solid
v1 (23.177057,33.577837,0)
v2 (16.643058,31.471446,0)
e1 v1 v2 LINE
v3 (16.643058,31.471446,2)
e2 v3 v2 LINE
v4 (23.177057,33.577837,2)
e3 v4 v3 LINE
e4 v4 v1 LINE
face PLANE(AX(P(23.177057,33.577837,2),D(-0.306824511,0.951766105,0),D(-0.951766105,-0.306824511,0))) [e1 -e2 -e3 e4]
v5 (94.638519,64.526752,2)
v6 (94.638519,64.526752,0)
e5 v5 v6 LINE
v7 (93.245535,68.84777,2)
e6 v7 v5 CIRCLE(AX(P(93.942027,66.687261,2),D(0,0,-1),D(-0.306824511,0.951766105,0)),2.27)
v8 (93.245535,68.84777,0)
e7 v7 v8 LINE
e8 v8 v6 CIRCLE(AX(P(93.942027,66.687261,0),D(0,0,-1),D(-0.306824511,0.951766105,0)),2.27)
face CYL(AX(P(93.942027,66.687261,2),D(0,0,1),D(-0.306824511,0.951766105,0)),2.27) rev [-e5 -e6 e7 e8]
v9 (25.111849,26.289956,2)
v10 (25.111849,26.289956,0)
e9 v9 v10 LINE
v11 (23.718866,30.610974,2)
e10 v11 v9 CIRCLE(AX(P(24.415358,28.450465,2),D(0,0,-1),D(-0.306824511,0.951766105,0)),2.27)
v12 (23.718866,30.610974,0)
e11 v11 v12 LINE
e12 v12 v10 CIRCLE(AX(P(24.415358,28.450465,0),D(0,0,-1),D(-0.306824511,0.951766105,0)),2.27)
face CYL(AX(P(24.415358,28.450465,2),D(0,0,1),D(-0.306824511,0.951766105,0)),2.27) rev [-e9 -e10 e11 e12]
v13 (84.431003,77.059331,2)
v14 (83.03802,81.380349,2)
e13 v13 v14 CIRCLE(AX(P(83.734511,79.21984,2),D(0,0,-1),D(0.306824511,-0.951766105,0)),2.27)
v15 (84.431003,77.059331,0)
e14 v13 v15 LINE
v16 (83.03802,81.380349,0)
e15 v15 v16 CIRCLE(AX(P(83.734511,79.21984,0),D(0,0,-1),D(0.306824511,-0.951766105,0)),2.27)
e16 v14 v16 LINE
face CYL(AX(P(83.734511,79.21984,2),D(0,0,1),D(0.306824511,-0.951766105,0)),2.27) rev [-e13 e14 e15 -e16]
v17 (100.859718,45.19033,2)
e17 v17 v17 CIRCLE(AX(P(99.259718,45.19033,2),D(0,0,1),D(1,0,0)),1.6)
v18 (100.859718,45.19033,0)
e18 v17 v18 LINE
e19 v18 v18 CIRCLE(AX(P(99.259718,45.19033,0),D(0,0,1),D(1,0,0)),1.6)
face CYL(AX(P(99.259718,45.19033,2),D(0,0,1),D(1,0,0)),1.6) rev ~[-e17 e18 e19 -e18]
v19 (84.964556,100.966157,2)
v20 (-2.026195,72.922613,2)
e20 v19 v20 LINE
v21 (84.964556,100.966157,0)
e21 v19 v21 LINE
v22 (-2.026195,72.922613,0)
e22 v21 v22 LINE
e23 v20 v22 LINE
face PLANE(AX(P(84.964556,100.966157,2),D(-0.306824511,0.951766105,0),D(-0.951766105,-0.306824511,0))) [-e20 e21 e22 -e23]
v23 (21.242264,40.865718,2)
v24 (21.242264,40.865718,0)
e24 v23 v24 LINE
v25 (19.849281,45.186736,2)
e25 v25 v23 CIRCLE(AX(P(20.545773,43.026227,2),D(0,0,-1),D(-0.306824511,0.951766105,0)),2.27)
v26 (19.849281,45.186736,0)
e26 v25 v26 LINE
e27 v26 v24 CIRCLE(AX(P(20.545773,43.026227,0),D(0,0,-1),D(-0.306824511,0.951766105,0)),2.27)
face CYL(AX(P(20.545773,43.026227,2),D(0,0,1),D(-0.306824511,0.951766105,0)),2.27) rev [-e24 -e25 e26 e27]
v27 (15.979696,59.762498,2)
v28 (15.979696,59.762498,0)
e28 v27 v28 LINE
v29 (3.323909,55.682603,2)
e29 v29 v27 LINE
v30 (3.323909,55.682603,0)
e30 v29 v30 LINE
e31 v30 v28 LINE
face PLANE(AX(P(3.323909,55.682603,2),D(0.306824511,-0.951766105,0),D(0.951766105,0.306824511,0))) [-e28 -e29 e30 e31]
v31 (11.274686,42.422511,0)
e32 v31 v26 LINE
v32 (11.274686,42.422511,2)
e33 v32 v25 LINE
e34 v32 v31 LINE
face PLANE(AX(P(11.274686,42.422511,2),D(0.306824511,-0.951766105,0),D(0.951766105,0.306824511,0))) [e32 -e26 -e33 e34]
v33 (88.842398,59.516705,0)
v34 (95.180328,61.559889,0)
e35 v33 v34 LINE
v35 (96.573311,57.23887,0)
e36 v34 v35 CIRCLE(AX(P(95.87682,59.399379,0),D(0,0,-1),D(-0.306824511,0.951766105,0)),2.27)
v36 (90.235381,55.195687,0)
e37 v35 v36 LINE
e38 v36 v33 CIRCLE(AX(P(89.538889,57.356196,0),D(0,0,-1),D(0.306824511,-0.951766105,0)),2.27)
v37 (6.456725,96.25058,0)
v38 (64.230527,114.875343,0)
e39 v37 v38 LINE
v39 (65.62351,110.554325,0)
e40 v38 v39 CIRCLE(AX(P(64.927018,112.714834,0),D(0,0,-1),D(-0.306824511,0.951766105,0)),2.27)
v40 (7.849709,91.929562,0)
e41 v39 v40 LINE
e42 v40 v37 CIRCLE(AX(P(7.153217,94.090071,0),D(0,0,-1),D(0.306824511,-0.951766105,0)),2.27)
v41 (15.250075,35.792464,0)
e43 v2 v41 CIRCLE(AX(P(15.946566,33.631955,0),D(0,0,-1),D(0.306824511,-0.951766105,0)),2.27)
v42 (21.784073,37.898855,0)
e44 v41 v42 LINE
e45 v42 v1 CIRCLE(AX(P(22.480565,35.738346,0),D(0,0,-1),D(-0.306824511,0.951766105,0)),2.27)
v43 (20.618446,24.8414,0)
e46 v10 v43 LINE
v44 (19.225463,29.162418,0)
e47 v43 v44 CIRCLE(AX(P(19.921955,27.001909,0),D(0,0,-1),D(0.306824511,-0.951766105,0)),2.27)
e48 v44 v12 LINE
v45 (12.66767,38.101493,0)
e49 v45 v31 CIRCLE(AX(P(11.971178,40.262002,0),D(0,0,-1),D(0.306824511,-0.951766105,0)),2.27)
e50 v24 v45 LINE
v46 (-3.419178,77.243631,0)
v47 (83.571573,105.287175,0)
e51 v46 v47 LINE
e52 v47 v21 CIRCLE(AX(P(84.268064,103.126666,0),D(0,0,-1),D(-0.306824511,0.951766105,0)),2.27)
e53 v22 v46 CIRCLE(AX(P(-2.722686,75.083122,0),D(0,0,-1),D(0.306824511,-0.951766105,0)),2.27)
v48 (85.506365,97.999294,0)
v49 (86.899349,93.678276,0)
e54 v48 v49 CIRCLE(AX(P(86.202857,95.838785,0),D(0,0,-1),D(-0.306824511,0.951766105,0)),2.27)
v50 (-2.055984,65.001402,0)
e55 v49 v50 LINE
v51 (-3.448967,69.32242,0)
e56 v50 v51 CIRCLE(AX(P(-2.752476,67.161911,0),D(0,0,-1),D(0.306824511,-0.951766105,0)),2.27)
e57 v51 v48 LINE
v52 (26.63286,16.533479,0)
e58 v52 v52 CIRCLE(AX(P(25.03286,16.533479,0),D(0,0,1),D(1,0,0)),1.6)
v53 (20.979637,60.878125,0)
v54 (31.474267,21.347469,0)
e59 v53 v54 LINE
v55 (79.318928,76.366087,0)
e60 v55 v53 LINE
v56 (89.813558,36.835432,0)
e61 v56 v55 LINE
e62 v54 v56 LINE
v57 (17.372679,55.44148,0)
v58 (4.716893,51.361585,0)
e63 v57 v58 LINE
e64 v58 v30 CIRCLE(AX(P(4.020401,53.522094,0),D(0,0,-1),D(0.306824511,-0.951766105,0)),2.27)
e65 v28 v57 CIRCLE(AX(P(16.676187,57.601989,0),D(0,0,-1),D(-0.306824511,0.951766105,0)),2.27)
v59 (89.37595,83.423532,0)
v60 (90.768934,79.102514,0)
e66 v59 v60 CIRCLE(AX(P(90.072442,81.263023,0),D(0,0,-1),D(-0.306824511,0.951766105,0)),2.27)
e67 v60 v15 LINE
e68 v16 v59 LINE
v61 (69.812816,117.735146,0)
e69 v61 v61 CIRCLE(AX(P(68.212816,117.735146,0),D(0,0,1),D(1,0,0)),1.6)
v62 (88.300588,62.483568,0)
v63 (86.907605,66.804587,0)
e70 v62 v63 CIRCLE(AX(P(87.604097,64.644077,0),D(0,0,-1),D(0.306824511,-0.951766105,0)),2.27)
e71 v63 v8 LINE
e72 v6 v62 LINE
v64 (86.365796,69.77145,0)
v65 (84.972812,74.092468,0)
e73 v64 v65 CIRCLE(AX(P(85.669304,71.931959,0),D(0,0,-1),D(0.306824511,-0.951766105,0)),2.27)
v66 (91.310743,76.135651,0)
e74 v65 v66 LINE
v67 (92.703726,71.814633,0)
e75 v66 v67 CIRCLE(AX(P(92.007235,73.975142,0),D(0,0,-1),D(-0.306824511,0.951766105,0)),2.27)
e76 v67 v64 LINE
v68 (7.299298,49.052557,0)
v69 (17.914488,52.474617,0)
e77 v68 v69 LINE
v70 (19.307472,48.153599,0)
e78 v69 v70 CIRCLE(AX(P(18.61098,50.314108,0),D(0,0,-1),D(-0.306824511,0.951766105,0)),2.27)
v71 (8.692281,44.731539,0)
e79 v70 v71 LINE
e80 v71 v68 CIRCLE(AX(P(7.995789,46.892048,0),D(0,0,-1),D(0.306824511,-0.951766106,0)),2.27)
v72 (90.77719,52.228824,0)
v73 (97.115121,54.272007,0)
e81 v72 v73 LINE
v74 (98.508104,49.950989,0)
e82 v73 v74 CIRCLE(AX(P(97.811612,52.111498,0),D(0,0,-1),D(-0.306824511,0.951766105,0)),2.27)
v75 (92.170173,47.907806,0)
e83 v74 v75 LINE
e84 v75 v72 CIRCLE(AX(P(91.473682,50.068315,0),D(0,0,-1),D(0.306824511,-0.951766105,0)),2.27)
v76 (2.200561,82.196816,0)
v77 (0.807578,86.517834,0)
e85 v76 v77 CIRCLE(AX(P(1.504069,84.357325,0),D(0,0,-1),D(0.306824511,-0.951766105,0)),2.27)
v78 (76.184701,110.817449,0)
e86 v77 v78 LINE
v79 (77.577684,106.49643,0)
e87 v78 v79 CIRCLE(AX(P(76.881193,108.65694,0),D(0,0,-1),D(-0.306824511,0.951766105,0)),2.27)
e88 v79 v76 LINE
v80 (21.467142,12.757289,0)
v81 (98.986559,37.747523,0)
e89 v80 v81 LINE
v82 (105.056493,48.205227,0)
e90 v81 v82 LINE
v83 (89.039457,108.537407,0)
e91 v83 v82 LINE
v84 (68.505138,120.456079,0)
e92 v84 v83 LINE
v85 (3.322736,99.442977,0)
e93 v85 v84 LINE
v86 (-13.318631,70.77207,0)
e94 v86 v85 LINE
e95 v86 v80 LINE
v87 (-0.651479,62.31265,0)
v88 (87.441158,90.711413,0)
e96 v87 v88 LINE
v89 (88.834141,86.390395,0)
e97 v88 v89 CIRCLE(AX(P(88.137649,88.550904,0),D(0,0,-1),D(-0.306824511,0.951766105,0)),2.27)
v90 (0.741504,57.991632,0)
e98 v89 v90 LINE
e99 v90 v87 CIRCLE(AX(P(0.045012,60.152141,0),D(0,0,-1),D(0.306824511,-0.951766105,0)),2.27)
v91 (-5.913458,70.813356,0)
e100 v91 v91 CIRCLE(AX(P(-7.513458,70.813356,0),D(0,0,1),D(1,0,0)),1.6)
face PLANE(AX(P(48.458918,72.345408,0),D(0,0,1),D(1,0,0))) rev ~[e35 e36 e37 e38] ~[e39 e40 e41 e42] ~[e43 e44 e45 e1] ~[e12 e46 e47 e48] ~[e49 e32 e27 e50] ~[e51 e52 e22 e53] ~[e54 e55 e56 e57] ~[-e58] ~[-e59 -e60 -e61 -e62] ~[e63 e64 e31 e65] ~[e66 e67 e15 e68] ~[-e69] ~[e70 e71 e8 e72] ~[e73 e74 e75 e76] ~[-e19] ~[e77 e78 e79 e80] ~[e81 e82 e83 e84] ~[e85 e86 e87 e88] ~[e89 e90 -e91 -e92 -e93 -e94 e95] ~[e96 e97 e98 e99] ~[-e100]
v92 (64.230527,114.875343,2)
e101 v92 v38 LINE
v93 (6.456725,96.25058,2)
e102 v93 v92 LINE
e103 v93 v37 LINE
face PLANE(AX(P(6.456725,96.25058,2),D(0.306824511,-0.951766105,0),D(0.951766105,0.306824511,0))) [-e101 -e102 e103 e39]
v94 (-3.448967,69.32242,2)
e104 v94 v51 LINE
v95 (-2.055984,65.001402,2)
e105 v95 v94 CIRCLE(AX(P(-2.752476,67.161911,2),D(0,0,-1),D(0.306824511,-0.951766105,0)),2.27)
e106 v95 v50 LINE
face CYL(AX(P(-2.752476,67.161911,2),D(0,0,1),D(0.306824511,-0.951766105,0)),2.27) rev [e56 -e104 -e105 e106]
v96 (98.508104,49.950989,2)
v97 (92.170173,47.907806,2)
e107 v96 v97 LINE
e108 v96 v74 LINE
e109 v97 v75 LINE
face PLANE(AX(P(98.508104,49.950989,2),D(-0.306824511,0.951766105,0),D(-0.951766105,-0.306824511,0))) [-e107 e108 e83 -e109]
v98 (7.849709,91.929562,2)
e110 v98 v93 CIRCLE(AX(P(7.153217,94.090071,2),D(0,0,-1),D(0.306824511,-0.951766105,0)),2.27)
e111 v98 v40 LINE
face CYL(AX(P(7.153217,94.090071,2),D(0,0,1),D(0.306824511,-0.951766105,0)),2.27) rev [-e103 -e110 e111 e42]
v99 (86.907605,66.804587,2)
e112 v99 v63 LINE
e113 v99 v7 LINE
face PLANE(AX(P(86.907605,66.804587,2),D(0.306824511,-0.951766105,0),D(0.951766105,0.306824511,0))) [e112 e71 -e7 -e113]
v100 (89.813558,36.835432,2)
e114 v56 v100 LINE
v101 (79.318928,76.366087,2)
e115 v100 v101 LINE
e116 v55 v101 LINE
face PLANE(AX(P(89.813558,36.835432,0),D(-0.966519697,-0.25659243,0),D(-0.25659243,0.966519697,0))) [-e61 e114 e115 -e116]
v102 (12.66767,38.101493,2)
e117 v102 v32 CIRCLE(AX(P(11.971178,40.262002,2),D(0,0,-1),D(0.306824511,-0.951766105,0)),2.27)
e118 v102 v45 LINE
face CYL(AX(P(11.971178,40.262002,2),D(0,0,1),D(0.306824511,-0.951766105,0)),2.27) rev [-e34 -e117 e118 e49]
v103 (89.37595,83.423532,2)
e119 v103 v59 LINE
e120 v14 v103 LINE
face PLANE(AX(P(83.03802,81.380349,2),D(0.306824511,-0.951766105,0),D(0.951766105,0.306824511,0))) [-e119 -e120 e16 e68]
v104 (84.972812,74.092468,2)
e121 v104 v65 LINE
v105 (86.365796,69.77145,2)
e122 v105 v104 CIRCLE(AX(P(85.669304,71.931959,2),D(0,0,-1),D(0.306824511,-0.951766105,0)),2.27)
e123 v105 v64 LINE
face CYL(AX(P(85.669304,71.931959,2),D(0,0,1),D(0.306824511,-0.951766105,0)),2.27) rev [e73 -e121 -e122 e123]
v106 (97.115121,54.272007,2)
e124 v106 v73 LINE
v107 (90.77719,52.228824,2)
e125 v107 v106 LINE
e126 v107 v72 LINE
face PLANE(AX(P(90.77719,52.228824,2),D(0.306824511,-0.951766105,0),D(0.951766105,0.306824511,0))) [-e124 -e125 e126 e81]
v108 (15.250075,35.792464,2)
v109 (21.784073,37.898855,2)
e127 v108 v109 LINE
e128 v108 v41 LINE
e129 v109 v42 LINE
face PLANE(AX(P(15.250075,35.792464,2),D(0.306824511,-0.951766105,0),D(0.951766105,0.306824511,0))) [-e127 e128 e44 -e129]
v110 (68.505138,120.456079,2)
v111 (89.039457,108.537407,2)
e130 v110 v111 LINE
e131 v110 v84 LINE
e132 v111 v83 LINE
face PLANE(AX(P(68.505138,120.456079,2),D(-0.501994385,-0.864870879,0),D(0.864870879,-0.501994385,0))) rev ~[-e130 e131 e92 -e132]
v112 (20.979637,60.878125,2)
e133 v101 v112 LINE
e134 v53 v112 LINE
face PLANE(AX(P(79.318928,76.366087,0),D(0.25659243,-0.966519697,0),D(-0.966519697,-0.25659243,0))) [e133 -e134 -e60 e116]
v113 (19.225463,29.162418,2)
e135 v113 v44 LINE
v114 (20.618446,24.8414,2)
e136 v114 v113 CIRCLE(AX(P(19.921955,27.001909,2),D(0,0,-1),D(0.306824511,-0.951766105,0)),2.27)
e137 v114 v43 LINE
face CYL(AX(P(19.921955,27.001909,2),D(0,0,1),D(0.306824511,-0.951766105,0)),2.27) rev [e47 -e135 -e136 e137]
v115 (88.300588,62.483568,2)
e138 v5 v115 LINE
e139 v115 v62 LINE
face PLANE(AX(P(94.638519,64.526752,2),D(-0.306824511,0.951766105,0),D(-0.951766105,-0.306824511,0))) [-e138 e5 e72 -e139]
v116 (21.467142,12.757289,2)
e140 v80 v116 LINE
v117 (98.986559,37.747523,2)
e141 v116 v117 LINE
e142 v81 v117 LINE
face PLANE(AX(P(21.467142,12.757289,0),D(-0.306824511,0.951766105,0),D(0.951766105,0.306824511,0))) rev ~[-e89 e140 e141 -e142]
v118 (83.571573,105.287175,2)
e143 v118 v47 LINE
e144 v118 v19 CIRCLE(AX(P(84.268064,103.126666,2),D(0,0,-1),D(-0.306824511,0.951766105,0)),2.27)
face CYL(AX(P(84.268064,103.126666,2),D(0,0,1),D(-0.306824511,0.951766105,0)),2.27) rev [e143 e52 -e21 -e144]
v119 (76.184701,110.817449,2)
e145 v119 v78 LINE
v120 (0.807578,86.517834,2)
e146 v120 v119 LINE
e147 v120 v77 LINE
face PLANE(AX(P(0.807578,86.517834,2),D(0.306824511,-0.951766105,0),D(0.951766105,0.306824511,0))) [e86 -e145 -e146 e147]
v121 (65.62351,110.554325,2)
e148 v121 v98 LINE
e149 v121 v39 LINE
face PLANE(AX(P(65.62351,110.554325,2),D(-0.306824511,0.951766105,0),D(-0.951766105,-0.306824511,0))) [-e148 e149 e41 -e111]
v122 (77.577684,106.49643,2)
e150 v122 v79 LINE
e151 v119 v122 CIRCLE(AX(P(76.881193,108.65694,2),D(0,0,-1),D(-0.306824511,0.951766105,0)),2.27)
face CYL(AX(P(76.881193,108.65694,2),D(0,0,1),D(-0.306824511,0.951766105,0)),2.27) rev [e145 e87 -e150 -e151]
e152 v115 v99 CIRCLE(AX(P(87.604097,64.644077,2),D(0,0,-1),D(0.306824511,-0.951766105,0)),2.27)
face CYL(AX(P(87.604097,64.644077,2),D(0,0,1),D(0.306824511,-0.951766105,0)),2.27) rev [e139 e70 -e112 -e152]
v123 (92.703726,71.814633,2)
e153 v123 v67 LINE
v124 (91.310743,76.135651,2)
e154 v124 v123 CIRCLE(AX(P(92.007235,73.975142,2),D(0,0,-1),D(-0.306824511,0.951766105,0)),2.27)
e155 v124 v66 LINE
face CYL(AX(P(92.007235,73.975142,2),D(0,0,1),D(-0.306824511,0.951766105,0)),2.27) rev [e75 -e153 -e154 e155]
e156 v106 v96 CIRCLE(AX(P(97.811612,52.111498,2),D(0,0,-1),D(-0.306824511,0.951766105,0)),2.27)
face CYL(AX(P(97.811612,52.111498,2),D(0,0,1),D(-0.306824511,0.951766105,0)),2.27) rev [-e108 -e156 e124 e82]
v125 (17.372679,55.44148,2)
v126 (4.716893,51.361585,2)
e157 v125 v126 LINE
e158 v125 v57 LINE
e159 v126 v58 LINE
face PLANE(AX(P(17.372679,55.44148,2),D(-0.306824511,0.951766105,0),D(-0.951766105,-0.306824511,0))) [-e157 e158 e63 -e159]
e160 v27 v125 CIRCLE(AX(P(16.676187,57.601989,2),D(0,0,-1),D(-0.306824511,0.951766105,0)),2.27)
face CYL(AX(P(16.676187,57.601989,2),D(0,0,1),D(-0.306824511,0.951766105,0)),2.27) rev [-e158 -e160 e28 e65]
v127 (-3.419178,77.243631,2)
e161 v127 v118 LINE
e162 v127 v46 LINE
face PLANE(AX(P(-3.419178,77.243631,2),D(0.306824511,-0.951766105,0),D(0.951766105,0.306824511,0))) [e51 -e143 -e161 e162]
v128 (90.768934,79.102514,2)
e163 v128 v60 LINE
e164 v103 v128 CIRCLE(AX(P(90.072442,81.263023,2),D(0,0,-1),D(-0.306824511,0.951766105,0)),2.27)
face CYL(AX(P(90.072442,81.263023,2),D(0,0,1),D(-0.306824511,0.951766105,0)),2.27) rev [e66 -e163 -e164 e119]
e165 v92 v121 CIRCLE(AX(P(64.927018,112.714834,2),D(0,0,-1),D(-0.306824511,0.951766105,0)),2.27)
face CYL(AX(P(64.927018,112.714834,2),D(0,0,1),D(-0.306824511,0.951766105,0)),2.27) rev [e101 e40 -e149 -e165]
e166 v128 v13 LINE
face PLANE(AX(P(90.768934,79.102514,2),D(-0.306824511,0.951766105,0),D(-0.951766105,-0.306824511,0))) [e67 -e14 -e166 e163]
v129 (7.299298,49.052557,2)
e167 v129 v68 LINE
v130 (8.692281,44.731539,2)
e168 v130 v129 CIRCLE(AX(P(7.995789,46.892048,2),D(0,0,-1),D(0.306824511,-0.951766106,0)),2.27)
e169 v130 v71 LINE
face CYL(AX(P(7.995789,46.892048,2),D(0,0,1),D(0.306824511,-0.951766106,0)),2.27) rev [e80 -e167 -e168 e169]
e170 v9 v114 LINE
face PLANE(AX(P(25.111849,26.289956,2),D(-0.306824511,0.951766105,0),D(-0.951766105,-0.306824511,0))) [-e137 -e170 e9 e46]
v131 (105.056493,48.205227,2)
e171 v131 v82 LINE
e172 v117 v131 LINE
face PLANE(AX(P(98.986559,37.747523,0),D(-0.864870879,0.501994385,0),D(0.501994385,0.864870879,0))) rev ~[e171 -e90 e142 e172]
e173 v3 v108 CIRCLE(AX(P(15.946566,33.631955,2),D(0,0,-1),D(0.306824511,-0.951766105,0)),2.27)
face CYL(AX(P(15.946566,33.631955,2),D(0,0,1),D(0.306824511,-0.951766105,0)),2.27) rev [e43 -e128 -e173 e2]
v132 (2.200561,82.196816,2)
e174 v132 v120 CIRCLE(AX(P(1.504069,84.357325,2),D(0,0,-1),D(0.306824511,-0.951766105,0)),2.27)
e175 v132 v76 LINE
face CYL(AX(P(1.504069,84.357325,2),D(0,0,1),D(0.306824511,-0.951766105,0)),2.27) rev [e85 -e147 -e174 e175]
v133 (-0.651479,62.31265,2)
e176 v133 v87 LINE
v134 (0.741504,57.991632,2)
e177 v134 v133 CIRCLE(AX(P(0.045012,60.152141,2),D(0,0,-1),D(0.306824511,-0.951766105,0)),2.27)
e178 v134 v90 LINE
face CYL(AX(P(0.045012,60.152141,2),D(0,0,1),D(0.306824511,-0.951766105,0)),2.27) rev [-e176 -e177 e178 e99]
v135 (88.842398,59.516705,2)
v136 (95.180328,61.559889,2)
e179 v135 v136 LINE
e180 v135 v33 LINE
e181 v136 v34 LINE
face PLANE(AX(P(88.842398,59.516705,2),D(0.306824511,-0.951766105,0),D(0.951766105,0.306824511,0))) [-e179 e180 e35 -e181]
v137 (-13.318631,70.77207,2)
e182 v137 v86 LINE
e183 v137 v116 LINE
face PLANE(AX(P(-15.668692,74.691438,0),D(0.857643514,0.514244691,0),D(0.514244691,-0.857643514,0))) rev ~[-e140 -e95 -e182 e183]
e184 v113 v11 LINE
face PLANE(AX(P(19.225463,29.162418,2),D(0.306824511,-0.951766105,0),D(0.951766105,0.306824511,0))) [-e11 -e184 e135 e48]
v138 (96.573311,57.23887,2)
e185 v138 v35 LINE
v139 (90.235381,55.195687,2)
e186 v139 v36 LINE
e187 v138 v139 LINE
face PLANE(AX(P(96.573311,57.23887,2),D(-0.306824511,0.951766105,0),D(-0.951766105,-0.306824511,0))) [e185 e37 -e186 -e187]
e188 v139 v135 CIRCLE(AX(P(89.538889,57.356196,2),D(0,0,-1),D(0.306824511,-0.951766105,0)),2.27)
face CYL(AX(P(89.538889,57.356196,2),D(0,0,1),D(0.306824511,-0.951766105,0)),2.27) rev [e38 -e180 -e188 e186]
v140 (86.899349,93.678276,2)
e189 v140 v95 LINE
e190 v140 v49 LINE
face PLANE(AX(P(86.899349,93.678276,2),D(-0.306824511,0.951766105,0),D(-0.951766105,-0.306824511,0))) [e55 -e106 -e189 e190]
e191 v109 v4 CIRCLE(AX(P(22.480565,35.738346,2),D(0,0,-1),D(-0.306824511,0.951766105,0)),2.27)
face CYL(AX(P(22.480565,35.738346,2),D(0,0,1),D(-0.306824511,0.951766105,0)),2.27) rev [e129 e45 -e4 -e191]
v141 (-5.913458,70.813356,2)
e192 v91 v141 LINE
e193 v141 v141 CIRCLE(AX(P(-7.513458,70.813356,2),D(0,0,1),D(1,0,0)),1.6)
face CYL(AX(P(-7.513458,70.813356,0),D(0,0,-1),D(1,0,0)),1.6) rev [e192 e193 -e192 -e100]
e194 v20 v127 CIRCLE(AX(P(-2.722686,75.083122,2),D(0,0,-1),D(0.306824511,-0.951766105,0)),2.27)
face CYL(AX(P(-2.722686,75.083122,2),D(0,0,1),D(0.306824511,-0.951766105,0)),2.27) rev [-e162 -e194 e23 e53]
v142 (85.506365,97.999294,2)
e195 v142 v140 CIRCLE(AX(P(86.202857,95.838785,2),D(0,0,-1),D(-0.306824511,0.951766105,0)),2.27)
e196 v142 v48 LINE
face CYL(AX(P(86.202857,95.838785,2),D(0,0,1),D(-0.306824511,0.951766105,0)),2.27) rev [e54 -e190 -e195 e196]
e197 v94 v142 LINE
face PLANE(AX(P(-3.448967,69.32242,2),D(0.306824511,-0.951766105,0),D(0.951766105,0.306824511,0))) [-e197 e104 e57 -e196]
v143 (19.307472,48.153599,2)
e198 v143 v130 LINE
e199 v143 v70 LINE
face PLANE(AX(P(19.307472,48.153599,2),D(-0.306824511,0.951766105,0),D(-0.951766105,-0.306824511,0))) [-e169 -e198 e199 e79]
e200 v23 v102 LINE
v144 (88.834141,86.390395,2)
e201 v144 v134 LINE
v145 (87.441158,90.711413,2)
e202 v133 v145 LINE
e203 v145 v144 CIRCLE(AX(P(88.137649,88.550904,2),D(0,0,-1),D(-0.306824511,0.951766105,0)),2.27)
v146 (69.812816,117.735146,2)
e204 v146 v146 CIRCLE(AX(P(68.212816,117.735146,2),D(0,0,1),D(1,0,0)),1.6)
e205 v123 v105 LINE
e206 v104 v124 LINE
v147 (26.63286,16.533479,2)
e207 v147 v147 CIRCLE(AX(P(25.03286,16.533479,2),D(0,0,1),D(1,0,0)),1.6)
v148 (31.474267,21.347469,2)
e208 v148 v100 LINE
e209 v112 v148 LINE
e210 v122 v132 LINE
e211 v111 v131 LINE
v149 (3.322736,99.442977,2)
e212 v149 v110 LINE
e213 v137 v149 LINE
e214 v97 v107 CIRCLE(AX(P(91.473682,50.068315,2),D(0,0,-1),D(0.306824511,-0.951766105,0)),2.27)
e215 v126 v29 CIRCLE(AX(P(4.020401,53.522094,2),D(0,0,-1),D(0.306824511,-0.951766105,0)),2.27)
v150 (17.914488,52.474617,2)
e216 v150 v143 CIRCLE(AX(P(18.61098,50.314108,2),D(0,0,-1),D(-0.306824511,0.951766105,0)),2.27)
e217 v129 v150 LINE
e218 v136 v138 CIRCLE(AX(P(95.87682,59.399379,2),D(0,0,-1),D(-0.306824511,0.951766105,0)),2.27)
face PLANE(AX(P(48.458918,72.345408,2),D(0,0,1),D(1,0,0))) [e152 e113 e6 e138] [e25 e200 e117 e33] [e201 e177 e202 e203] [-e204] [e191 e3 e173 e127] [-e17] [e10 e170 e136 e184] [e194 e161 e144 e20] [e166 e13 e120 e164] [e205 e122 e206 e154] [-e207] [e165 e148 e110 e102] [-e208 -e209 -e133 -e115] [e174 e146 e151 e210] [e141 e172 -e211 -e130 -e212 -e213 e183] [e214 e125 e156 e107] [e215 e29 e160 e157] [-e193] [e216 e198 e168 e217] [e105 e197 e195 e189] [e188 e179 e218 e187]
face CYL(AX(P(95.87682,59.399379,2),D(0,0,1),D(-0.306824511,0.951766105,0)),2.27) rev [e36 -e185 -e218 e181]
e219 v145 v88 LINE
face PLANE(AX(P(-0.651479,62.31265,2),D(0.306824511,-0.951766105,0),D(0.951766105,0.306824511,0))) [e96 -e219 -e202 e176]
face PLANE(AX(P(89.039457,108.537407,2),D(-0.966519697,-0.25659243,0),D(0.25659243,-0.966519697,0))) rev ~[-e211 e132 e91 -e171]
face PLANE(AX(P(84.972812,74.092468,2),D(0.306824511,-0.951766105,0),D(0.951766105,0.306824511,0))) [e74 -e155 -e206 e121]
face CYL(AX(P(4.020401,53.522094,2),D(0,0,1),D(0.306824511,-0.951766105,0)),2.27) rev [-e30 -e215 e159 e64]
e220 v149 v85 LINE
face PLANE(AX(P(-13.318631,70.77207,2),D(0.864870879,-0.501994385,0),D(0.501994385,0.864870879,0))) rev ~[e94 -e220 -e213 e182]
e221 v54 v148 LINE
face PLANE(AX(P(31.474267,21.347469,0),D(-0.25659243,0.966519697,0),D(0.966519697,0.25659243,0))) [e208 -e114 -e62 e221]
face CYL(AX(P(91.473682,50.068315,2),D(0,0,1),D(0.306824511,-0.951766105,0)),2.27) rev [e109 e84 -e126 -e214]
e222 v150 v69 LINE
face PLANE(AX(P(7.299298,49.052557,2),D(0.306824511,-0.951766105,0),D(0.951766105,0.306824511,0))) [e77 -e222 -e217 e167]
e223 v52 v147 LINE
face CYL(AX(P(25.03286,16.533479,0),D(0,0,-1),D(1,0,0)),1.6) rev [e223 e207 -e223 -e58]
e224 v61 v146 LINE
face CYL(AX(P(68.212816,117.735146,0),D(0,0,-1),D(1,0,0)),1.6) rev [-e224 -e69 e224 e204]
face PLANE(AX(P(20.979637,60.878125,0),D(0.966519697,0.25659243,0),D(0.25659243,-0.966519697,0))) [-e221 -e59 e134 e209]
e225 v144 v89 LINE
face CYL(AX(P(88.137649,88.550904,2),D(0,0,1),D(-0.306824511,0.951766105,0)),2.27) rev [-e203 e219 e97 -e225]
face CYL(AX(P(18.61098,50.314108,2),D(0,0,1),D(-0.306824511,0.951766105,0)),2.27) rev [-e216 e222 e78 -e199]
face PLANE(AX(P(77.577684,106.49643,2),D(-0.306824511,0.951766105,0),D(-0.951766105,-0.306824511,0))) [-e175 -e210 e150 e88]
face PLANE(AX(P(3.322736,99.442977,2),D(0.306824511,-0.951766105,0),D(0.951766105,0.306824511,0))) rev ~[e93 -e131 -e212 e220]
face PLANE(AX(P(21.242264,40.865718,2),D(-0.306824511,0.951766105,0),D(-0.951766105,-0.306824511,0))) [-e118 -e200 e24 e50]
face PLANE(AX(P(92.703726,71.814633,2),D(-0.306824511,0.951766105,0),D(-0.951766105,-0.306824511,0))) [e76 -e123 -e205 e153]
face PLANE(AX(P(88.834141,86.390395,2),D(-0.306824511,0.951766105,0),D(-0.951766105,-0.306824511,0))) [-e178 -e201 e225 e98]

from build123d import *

# Parameters (mm, degrees)
SKETCH1_R           = 1.6
BOSS_EXTRUDE1_DEPTH = 2
CUT_EXTRUDE1_DEPTH  = 2
SKETCH3_R           = 1.6
CUT_EXTRUDE2_DEPTH  = 2


with BuildPart() as part:
    # Sketch1 → Boss-Extrude1 (new body)
    with BuildSketch(Plane.XY):
        Polygon((21.467142273, 12.757289388), (98.986558646, 37.747522695), (108.606128903, 54.320788113), (91.526252569, 118.656423166), (69.674428961, 131.339810968), (5.135356345, 110.534101153), (-15.668691868, 74.691438373), align=None)
        with Locations((25.032859693, 16.533479235)):
            Circle(SKETCH1_R, mode=Mode.SUBTRACT)
        with Locations((-7.513458012, 70.813355701)):
            Circle(SKETCH1_R, mode=Mode.SUBTRACT)
        with Locations((68.212815702, 117.73514623)):
            Circle(SKETCH1_R, mode=Mode.SUBTRACT)
        Polygon((31.474266896, 21.347469407), (89.813558069, 36.835431526), (79.318927702, 76.366087142), (20.979636529, 60.878125023), align=None, mode=Mode.SUBTRACT)
    extrude(amount=BOSS_EXTRUDE1_DEPTH)

    # Sketch2 → Cut-Extrude1 (cut)
    with BuildSketch(Plane.XY.offset(2)):
        Polygon((68.505138354, 120.456079177), (89.039456874, 108.537406864), (105.056492564, 48.205227479), (108.606128903, 54.320788113), (91.526252569, 118.656423166), (69.674428961, 131.339810968), (5.135356345, 110.534101153), (-15.668691868, 74.691438373), (-13.318631122, 70.77207004), (3.322736479, 99.442976827), align=None)
    extrude(amount=-CUT_EXTRUDE1_DEPTH, mode=Mode.SUBTRACT)

    # Sketch3 → Cut-Extrude2 (cut)
    with BuildSketch(Plane.XY.offset(2)):
        with Locations((99.259718064, 45.190330298)):
            Circle(SKETCH3_R)
        with BuildLine():
            Line((6.456725485, 96.250579726), (64.230526779, 114.875342927))
            ThreePointArc((64.230526779, 114.875342927), (67.087527478, 113.411325508), (65.623510059, 110.554324808))
            Line((65.623510059, 110.554324808), (7.849708766, 91.929561608))
            ThreePointArc((7.849708766, 91.929561608), (4.992708066, 93.393579027), (6.456725485, 96.250579726))
        make_face()
        with BuildLine():
            Line((0.807577645, 86.517834494), (76.18470113, 110.817448579))
            ThreePointArc((76.18470113, 110.817448579), (79.041701829, 109.35343116), (77.57768441, 106.496430461))
            Line((77.57768441, 106.496430461), (2.200560925, 82.196816376))
            ThreePointArc((2.200560925, 82.196816376), (-0.656439775, 83.660833795), (0.807577645, 86.517834494))
        make_face()
        with BuildLine():
            Line((-3.419178071, 77.243631299), (83.571572672, 105.287175206))
            ThreePointArc((83.571572672, 105.287175206), (86.428573372, 103.823157787), (84.964555952, 100.966157087))
            Line((84.964555952, 100.966157087), (-2.02619479, 72.92261318))
            ThreePointArc((-2.02619479, 72.92261318), (-4.88319549, 74.3866306), (-3.419178071, 77.243631299))
        make_face()
        with BuildLine():
            Line((-3.448967162, 69.322420425), (85.506365232, 97.999294098))
            ThreePointArc((85.506365232, 97.999294098), (88.363365932, 96.535276679), (86.899348513, 93.678275979))
            Line((86.899348513, 93.678275979), (-2.055983882, 65.001402307))
            ThreePointArc((-2.055983882, 65.001402307), (-4.912984581, 66.465419726), (-3.448967162, 69.322420425))
        make_face()
        with BuildLine():
            Line((-0.651479152, 62.312649778), (87.441157792, 90.71141299))
            ThreePointArc((87.441157792, 90.71141299), (90.298158492, 89.247395571), (88.834141073, 86.390394871))
            Line((88.834141073, 86.390394871), (0.741504129, 57.991631659))
            ThreePointArc((0.741504129, 57.991631659), (-2.115496571, 59.455649078), (-0.651479152, 62.312649778))
        make_face()
        with BuildLine():
            Line((83.038019838, 81.380348772), (89.375950353, 83.423531882))
            ThreePointArc((89.375950353, 83.423531882), (92.232951052, 81.959514463), (90.768933633, 79.102513764))
            Line((90.768933633, 79.102513764), (84.431003119, 77.059330653))
            ThreePointArc((84.431003119, 77.059330653), (81.574002419, 78.523348073), (83.038019838, 81.380348772))
        make_face()
        with BuildLine():
            Line((3.323909307, 55.682603442), (15.979695788, 59.762498153))
            ThreePointArc((15.979695788, 59.762498153), (18.836696487, 58.298480734), (17.372679068, 55.441480034))
            Line((17.372679068, 55.441480034), (4.716892588, 51.361585323))
            ThreePointArc((4.716892588, 51.361585323), (1.859891888, 52.825602742), (3.323909307, 55.682603442))
        make_face()
        with BuildLine():
            Line((7.299297766, 49.052557106), (17.914488348, 52.474617045))
            ThreePointArc((17.914488348, 52.474617045), (20.771489047, 51.010599626), (19.307471628, 48.153598926))
            Line((19.307471628, 48.153598926), (8.692281046, 44.731538987))
            ThreePointArc((8.692281046, 44.731538987), (5.835280347, 46.195556407), (7.299297766, 49.052557106))
        make_face()
        with BuildLine():
            Line((11.274686225, 42.42251077), (19.849280908, 45.186735937))
            ThreePointArc((19.849280908, 45.186735937), (22.706281607, 43.722718518), (21.242264188, 40.865717818))
            Line((21.242264188, 40.865717818), (12.667669505, 38.101492652))
            ThreePointArc((12.667669505, 38.101492652), (9.810668805, 39.565510071), (11.274686225, 42.42251077))
        make_face()
        with BuildLine():
            Line((15.250074683, 35.792464434), (21.784073468, 37.898854829))
            ThreePointArc((21.784073468, 37.898854829), (24.641074168, 36.43483741), (23.177056748, 33.577836711))
            Line((23.177056748, 33.577836711), (16.643057964, 31.471446316))
            ThreePointArc((16.643057964, 31.471446316), (13.786057264, 32.935463735), (15.250074683, 35.792464434))
        make_face()
        with BuildLine():
            Line((19.225463142, 29.162418098), (23.718866028, 30.610973721))
            ThreePointArc((23.718866028, 30.610973721), (26.575866728, 29.146956302), (25.111849309, 26.289955603))
            Line((25.111849309, 26.289955603), (20.618446422, 24.84139998))
            ThreePointArc((20.618446422, 24.84139998), (17.761445723, 26.305417399), (19.225463142, 29.162418098))
        make_face()
        with BuildLine():
            Line((84.972812398, 74.092467664), (91.310742913, 76.135650774))
            ThreePointArc((91.310742913, 76.135650774), (94.167743612, 74.671633355), (92.703726193, 71.814632656))
            Line((92.703726193, 71.814632656), (86.365795679, 69.771449546))
            ThreePointArc((86.365795679, 69.771449546), (83.508794979, 71.235466965), (84.972812398, 74.092467664))
        make_face()
        with BuildLine():
            Line((86.907604959, 66.804586556), (93.245535473, 68.847769666))
            ThreePointArc((93.245535473, 68.847769666), (96.102536172, 67.383752247), (94.638518753, 64.526751548))
            Line((94.638518753, 64.526751548), (88.300588239, 62.483568438))
            ThreePointArc((88.300588239, 62.483568438), (85.44358754, 63.947585857), (86.907604959, 66.804586556))
        make_face()
        with BuildLine():
            Line((88.842397519, 59.516705448), (95.180328033, 61.559888559))
            ThreePointArc((95.180328033, 61.559888559), (98.037328733, 60.095871139), (96.573311314, 57.23887044))
            Line((96.573311314, 57.23887044), (90.235380799, 55.19568733))
            ThreePointArc((90.235380799, 55.19568733), (87.3783801, 56.659704749), (88.842397519, 59.516705448))
        make_face()
        with BuildLine():
            Line((90.777190079, 52.228824341), (97.115120593, 54.272007451))
            ThreePointArc((97.115120593, 54.272007451), (99.972121293, 52.807990032), (98.508103874, 49.950989332))
            Line((98.508103874, 49.950989332), (92.170173359, 47.907806222))
            ThreePointArc((92.170173359, 47.907806222), (89.31317266, 49.371823641), (90.777190079, 52.228824341))
        make_face()
    extrude(amount=-CUT_EXTRUDE2_DEPTH, mode=Mode.SUBTRACT)


solid = part.part
